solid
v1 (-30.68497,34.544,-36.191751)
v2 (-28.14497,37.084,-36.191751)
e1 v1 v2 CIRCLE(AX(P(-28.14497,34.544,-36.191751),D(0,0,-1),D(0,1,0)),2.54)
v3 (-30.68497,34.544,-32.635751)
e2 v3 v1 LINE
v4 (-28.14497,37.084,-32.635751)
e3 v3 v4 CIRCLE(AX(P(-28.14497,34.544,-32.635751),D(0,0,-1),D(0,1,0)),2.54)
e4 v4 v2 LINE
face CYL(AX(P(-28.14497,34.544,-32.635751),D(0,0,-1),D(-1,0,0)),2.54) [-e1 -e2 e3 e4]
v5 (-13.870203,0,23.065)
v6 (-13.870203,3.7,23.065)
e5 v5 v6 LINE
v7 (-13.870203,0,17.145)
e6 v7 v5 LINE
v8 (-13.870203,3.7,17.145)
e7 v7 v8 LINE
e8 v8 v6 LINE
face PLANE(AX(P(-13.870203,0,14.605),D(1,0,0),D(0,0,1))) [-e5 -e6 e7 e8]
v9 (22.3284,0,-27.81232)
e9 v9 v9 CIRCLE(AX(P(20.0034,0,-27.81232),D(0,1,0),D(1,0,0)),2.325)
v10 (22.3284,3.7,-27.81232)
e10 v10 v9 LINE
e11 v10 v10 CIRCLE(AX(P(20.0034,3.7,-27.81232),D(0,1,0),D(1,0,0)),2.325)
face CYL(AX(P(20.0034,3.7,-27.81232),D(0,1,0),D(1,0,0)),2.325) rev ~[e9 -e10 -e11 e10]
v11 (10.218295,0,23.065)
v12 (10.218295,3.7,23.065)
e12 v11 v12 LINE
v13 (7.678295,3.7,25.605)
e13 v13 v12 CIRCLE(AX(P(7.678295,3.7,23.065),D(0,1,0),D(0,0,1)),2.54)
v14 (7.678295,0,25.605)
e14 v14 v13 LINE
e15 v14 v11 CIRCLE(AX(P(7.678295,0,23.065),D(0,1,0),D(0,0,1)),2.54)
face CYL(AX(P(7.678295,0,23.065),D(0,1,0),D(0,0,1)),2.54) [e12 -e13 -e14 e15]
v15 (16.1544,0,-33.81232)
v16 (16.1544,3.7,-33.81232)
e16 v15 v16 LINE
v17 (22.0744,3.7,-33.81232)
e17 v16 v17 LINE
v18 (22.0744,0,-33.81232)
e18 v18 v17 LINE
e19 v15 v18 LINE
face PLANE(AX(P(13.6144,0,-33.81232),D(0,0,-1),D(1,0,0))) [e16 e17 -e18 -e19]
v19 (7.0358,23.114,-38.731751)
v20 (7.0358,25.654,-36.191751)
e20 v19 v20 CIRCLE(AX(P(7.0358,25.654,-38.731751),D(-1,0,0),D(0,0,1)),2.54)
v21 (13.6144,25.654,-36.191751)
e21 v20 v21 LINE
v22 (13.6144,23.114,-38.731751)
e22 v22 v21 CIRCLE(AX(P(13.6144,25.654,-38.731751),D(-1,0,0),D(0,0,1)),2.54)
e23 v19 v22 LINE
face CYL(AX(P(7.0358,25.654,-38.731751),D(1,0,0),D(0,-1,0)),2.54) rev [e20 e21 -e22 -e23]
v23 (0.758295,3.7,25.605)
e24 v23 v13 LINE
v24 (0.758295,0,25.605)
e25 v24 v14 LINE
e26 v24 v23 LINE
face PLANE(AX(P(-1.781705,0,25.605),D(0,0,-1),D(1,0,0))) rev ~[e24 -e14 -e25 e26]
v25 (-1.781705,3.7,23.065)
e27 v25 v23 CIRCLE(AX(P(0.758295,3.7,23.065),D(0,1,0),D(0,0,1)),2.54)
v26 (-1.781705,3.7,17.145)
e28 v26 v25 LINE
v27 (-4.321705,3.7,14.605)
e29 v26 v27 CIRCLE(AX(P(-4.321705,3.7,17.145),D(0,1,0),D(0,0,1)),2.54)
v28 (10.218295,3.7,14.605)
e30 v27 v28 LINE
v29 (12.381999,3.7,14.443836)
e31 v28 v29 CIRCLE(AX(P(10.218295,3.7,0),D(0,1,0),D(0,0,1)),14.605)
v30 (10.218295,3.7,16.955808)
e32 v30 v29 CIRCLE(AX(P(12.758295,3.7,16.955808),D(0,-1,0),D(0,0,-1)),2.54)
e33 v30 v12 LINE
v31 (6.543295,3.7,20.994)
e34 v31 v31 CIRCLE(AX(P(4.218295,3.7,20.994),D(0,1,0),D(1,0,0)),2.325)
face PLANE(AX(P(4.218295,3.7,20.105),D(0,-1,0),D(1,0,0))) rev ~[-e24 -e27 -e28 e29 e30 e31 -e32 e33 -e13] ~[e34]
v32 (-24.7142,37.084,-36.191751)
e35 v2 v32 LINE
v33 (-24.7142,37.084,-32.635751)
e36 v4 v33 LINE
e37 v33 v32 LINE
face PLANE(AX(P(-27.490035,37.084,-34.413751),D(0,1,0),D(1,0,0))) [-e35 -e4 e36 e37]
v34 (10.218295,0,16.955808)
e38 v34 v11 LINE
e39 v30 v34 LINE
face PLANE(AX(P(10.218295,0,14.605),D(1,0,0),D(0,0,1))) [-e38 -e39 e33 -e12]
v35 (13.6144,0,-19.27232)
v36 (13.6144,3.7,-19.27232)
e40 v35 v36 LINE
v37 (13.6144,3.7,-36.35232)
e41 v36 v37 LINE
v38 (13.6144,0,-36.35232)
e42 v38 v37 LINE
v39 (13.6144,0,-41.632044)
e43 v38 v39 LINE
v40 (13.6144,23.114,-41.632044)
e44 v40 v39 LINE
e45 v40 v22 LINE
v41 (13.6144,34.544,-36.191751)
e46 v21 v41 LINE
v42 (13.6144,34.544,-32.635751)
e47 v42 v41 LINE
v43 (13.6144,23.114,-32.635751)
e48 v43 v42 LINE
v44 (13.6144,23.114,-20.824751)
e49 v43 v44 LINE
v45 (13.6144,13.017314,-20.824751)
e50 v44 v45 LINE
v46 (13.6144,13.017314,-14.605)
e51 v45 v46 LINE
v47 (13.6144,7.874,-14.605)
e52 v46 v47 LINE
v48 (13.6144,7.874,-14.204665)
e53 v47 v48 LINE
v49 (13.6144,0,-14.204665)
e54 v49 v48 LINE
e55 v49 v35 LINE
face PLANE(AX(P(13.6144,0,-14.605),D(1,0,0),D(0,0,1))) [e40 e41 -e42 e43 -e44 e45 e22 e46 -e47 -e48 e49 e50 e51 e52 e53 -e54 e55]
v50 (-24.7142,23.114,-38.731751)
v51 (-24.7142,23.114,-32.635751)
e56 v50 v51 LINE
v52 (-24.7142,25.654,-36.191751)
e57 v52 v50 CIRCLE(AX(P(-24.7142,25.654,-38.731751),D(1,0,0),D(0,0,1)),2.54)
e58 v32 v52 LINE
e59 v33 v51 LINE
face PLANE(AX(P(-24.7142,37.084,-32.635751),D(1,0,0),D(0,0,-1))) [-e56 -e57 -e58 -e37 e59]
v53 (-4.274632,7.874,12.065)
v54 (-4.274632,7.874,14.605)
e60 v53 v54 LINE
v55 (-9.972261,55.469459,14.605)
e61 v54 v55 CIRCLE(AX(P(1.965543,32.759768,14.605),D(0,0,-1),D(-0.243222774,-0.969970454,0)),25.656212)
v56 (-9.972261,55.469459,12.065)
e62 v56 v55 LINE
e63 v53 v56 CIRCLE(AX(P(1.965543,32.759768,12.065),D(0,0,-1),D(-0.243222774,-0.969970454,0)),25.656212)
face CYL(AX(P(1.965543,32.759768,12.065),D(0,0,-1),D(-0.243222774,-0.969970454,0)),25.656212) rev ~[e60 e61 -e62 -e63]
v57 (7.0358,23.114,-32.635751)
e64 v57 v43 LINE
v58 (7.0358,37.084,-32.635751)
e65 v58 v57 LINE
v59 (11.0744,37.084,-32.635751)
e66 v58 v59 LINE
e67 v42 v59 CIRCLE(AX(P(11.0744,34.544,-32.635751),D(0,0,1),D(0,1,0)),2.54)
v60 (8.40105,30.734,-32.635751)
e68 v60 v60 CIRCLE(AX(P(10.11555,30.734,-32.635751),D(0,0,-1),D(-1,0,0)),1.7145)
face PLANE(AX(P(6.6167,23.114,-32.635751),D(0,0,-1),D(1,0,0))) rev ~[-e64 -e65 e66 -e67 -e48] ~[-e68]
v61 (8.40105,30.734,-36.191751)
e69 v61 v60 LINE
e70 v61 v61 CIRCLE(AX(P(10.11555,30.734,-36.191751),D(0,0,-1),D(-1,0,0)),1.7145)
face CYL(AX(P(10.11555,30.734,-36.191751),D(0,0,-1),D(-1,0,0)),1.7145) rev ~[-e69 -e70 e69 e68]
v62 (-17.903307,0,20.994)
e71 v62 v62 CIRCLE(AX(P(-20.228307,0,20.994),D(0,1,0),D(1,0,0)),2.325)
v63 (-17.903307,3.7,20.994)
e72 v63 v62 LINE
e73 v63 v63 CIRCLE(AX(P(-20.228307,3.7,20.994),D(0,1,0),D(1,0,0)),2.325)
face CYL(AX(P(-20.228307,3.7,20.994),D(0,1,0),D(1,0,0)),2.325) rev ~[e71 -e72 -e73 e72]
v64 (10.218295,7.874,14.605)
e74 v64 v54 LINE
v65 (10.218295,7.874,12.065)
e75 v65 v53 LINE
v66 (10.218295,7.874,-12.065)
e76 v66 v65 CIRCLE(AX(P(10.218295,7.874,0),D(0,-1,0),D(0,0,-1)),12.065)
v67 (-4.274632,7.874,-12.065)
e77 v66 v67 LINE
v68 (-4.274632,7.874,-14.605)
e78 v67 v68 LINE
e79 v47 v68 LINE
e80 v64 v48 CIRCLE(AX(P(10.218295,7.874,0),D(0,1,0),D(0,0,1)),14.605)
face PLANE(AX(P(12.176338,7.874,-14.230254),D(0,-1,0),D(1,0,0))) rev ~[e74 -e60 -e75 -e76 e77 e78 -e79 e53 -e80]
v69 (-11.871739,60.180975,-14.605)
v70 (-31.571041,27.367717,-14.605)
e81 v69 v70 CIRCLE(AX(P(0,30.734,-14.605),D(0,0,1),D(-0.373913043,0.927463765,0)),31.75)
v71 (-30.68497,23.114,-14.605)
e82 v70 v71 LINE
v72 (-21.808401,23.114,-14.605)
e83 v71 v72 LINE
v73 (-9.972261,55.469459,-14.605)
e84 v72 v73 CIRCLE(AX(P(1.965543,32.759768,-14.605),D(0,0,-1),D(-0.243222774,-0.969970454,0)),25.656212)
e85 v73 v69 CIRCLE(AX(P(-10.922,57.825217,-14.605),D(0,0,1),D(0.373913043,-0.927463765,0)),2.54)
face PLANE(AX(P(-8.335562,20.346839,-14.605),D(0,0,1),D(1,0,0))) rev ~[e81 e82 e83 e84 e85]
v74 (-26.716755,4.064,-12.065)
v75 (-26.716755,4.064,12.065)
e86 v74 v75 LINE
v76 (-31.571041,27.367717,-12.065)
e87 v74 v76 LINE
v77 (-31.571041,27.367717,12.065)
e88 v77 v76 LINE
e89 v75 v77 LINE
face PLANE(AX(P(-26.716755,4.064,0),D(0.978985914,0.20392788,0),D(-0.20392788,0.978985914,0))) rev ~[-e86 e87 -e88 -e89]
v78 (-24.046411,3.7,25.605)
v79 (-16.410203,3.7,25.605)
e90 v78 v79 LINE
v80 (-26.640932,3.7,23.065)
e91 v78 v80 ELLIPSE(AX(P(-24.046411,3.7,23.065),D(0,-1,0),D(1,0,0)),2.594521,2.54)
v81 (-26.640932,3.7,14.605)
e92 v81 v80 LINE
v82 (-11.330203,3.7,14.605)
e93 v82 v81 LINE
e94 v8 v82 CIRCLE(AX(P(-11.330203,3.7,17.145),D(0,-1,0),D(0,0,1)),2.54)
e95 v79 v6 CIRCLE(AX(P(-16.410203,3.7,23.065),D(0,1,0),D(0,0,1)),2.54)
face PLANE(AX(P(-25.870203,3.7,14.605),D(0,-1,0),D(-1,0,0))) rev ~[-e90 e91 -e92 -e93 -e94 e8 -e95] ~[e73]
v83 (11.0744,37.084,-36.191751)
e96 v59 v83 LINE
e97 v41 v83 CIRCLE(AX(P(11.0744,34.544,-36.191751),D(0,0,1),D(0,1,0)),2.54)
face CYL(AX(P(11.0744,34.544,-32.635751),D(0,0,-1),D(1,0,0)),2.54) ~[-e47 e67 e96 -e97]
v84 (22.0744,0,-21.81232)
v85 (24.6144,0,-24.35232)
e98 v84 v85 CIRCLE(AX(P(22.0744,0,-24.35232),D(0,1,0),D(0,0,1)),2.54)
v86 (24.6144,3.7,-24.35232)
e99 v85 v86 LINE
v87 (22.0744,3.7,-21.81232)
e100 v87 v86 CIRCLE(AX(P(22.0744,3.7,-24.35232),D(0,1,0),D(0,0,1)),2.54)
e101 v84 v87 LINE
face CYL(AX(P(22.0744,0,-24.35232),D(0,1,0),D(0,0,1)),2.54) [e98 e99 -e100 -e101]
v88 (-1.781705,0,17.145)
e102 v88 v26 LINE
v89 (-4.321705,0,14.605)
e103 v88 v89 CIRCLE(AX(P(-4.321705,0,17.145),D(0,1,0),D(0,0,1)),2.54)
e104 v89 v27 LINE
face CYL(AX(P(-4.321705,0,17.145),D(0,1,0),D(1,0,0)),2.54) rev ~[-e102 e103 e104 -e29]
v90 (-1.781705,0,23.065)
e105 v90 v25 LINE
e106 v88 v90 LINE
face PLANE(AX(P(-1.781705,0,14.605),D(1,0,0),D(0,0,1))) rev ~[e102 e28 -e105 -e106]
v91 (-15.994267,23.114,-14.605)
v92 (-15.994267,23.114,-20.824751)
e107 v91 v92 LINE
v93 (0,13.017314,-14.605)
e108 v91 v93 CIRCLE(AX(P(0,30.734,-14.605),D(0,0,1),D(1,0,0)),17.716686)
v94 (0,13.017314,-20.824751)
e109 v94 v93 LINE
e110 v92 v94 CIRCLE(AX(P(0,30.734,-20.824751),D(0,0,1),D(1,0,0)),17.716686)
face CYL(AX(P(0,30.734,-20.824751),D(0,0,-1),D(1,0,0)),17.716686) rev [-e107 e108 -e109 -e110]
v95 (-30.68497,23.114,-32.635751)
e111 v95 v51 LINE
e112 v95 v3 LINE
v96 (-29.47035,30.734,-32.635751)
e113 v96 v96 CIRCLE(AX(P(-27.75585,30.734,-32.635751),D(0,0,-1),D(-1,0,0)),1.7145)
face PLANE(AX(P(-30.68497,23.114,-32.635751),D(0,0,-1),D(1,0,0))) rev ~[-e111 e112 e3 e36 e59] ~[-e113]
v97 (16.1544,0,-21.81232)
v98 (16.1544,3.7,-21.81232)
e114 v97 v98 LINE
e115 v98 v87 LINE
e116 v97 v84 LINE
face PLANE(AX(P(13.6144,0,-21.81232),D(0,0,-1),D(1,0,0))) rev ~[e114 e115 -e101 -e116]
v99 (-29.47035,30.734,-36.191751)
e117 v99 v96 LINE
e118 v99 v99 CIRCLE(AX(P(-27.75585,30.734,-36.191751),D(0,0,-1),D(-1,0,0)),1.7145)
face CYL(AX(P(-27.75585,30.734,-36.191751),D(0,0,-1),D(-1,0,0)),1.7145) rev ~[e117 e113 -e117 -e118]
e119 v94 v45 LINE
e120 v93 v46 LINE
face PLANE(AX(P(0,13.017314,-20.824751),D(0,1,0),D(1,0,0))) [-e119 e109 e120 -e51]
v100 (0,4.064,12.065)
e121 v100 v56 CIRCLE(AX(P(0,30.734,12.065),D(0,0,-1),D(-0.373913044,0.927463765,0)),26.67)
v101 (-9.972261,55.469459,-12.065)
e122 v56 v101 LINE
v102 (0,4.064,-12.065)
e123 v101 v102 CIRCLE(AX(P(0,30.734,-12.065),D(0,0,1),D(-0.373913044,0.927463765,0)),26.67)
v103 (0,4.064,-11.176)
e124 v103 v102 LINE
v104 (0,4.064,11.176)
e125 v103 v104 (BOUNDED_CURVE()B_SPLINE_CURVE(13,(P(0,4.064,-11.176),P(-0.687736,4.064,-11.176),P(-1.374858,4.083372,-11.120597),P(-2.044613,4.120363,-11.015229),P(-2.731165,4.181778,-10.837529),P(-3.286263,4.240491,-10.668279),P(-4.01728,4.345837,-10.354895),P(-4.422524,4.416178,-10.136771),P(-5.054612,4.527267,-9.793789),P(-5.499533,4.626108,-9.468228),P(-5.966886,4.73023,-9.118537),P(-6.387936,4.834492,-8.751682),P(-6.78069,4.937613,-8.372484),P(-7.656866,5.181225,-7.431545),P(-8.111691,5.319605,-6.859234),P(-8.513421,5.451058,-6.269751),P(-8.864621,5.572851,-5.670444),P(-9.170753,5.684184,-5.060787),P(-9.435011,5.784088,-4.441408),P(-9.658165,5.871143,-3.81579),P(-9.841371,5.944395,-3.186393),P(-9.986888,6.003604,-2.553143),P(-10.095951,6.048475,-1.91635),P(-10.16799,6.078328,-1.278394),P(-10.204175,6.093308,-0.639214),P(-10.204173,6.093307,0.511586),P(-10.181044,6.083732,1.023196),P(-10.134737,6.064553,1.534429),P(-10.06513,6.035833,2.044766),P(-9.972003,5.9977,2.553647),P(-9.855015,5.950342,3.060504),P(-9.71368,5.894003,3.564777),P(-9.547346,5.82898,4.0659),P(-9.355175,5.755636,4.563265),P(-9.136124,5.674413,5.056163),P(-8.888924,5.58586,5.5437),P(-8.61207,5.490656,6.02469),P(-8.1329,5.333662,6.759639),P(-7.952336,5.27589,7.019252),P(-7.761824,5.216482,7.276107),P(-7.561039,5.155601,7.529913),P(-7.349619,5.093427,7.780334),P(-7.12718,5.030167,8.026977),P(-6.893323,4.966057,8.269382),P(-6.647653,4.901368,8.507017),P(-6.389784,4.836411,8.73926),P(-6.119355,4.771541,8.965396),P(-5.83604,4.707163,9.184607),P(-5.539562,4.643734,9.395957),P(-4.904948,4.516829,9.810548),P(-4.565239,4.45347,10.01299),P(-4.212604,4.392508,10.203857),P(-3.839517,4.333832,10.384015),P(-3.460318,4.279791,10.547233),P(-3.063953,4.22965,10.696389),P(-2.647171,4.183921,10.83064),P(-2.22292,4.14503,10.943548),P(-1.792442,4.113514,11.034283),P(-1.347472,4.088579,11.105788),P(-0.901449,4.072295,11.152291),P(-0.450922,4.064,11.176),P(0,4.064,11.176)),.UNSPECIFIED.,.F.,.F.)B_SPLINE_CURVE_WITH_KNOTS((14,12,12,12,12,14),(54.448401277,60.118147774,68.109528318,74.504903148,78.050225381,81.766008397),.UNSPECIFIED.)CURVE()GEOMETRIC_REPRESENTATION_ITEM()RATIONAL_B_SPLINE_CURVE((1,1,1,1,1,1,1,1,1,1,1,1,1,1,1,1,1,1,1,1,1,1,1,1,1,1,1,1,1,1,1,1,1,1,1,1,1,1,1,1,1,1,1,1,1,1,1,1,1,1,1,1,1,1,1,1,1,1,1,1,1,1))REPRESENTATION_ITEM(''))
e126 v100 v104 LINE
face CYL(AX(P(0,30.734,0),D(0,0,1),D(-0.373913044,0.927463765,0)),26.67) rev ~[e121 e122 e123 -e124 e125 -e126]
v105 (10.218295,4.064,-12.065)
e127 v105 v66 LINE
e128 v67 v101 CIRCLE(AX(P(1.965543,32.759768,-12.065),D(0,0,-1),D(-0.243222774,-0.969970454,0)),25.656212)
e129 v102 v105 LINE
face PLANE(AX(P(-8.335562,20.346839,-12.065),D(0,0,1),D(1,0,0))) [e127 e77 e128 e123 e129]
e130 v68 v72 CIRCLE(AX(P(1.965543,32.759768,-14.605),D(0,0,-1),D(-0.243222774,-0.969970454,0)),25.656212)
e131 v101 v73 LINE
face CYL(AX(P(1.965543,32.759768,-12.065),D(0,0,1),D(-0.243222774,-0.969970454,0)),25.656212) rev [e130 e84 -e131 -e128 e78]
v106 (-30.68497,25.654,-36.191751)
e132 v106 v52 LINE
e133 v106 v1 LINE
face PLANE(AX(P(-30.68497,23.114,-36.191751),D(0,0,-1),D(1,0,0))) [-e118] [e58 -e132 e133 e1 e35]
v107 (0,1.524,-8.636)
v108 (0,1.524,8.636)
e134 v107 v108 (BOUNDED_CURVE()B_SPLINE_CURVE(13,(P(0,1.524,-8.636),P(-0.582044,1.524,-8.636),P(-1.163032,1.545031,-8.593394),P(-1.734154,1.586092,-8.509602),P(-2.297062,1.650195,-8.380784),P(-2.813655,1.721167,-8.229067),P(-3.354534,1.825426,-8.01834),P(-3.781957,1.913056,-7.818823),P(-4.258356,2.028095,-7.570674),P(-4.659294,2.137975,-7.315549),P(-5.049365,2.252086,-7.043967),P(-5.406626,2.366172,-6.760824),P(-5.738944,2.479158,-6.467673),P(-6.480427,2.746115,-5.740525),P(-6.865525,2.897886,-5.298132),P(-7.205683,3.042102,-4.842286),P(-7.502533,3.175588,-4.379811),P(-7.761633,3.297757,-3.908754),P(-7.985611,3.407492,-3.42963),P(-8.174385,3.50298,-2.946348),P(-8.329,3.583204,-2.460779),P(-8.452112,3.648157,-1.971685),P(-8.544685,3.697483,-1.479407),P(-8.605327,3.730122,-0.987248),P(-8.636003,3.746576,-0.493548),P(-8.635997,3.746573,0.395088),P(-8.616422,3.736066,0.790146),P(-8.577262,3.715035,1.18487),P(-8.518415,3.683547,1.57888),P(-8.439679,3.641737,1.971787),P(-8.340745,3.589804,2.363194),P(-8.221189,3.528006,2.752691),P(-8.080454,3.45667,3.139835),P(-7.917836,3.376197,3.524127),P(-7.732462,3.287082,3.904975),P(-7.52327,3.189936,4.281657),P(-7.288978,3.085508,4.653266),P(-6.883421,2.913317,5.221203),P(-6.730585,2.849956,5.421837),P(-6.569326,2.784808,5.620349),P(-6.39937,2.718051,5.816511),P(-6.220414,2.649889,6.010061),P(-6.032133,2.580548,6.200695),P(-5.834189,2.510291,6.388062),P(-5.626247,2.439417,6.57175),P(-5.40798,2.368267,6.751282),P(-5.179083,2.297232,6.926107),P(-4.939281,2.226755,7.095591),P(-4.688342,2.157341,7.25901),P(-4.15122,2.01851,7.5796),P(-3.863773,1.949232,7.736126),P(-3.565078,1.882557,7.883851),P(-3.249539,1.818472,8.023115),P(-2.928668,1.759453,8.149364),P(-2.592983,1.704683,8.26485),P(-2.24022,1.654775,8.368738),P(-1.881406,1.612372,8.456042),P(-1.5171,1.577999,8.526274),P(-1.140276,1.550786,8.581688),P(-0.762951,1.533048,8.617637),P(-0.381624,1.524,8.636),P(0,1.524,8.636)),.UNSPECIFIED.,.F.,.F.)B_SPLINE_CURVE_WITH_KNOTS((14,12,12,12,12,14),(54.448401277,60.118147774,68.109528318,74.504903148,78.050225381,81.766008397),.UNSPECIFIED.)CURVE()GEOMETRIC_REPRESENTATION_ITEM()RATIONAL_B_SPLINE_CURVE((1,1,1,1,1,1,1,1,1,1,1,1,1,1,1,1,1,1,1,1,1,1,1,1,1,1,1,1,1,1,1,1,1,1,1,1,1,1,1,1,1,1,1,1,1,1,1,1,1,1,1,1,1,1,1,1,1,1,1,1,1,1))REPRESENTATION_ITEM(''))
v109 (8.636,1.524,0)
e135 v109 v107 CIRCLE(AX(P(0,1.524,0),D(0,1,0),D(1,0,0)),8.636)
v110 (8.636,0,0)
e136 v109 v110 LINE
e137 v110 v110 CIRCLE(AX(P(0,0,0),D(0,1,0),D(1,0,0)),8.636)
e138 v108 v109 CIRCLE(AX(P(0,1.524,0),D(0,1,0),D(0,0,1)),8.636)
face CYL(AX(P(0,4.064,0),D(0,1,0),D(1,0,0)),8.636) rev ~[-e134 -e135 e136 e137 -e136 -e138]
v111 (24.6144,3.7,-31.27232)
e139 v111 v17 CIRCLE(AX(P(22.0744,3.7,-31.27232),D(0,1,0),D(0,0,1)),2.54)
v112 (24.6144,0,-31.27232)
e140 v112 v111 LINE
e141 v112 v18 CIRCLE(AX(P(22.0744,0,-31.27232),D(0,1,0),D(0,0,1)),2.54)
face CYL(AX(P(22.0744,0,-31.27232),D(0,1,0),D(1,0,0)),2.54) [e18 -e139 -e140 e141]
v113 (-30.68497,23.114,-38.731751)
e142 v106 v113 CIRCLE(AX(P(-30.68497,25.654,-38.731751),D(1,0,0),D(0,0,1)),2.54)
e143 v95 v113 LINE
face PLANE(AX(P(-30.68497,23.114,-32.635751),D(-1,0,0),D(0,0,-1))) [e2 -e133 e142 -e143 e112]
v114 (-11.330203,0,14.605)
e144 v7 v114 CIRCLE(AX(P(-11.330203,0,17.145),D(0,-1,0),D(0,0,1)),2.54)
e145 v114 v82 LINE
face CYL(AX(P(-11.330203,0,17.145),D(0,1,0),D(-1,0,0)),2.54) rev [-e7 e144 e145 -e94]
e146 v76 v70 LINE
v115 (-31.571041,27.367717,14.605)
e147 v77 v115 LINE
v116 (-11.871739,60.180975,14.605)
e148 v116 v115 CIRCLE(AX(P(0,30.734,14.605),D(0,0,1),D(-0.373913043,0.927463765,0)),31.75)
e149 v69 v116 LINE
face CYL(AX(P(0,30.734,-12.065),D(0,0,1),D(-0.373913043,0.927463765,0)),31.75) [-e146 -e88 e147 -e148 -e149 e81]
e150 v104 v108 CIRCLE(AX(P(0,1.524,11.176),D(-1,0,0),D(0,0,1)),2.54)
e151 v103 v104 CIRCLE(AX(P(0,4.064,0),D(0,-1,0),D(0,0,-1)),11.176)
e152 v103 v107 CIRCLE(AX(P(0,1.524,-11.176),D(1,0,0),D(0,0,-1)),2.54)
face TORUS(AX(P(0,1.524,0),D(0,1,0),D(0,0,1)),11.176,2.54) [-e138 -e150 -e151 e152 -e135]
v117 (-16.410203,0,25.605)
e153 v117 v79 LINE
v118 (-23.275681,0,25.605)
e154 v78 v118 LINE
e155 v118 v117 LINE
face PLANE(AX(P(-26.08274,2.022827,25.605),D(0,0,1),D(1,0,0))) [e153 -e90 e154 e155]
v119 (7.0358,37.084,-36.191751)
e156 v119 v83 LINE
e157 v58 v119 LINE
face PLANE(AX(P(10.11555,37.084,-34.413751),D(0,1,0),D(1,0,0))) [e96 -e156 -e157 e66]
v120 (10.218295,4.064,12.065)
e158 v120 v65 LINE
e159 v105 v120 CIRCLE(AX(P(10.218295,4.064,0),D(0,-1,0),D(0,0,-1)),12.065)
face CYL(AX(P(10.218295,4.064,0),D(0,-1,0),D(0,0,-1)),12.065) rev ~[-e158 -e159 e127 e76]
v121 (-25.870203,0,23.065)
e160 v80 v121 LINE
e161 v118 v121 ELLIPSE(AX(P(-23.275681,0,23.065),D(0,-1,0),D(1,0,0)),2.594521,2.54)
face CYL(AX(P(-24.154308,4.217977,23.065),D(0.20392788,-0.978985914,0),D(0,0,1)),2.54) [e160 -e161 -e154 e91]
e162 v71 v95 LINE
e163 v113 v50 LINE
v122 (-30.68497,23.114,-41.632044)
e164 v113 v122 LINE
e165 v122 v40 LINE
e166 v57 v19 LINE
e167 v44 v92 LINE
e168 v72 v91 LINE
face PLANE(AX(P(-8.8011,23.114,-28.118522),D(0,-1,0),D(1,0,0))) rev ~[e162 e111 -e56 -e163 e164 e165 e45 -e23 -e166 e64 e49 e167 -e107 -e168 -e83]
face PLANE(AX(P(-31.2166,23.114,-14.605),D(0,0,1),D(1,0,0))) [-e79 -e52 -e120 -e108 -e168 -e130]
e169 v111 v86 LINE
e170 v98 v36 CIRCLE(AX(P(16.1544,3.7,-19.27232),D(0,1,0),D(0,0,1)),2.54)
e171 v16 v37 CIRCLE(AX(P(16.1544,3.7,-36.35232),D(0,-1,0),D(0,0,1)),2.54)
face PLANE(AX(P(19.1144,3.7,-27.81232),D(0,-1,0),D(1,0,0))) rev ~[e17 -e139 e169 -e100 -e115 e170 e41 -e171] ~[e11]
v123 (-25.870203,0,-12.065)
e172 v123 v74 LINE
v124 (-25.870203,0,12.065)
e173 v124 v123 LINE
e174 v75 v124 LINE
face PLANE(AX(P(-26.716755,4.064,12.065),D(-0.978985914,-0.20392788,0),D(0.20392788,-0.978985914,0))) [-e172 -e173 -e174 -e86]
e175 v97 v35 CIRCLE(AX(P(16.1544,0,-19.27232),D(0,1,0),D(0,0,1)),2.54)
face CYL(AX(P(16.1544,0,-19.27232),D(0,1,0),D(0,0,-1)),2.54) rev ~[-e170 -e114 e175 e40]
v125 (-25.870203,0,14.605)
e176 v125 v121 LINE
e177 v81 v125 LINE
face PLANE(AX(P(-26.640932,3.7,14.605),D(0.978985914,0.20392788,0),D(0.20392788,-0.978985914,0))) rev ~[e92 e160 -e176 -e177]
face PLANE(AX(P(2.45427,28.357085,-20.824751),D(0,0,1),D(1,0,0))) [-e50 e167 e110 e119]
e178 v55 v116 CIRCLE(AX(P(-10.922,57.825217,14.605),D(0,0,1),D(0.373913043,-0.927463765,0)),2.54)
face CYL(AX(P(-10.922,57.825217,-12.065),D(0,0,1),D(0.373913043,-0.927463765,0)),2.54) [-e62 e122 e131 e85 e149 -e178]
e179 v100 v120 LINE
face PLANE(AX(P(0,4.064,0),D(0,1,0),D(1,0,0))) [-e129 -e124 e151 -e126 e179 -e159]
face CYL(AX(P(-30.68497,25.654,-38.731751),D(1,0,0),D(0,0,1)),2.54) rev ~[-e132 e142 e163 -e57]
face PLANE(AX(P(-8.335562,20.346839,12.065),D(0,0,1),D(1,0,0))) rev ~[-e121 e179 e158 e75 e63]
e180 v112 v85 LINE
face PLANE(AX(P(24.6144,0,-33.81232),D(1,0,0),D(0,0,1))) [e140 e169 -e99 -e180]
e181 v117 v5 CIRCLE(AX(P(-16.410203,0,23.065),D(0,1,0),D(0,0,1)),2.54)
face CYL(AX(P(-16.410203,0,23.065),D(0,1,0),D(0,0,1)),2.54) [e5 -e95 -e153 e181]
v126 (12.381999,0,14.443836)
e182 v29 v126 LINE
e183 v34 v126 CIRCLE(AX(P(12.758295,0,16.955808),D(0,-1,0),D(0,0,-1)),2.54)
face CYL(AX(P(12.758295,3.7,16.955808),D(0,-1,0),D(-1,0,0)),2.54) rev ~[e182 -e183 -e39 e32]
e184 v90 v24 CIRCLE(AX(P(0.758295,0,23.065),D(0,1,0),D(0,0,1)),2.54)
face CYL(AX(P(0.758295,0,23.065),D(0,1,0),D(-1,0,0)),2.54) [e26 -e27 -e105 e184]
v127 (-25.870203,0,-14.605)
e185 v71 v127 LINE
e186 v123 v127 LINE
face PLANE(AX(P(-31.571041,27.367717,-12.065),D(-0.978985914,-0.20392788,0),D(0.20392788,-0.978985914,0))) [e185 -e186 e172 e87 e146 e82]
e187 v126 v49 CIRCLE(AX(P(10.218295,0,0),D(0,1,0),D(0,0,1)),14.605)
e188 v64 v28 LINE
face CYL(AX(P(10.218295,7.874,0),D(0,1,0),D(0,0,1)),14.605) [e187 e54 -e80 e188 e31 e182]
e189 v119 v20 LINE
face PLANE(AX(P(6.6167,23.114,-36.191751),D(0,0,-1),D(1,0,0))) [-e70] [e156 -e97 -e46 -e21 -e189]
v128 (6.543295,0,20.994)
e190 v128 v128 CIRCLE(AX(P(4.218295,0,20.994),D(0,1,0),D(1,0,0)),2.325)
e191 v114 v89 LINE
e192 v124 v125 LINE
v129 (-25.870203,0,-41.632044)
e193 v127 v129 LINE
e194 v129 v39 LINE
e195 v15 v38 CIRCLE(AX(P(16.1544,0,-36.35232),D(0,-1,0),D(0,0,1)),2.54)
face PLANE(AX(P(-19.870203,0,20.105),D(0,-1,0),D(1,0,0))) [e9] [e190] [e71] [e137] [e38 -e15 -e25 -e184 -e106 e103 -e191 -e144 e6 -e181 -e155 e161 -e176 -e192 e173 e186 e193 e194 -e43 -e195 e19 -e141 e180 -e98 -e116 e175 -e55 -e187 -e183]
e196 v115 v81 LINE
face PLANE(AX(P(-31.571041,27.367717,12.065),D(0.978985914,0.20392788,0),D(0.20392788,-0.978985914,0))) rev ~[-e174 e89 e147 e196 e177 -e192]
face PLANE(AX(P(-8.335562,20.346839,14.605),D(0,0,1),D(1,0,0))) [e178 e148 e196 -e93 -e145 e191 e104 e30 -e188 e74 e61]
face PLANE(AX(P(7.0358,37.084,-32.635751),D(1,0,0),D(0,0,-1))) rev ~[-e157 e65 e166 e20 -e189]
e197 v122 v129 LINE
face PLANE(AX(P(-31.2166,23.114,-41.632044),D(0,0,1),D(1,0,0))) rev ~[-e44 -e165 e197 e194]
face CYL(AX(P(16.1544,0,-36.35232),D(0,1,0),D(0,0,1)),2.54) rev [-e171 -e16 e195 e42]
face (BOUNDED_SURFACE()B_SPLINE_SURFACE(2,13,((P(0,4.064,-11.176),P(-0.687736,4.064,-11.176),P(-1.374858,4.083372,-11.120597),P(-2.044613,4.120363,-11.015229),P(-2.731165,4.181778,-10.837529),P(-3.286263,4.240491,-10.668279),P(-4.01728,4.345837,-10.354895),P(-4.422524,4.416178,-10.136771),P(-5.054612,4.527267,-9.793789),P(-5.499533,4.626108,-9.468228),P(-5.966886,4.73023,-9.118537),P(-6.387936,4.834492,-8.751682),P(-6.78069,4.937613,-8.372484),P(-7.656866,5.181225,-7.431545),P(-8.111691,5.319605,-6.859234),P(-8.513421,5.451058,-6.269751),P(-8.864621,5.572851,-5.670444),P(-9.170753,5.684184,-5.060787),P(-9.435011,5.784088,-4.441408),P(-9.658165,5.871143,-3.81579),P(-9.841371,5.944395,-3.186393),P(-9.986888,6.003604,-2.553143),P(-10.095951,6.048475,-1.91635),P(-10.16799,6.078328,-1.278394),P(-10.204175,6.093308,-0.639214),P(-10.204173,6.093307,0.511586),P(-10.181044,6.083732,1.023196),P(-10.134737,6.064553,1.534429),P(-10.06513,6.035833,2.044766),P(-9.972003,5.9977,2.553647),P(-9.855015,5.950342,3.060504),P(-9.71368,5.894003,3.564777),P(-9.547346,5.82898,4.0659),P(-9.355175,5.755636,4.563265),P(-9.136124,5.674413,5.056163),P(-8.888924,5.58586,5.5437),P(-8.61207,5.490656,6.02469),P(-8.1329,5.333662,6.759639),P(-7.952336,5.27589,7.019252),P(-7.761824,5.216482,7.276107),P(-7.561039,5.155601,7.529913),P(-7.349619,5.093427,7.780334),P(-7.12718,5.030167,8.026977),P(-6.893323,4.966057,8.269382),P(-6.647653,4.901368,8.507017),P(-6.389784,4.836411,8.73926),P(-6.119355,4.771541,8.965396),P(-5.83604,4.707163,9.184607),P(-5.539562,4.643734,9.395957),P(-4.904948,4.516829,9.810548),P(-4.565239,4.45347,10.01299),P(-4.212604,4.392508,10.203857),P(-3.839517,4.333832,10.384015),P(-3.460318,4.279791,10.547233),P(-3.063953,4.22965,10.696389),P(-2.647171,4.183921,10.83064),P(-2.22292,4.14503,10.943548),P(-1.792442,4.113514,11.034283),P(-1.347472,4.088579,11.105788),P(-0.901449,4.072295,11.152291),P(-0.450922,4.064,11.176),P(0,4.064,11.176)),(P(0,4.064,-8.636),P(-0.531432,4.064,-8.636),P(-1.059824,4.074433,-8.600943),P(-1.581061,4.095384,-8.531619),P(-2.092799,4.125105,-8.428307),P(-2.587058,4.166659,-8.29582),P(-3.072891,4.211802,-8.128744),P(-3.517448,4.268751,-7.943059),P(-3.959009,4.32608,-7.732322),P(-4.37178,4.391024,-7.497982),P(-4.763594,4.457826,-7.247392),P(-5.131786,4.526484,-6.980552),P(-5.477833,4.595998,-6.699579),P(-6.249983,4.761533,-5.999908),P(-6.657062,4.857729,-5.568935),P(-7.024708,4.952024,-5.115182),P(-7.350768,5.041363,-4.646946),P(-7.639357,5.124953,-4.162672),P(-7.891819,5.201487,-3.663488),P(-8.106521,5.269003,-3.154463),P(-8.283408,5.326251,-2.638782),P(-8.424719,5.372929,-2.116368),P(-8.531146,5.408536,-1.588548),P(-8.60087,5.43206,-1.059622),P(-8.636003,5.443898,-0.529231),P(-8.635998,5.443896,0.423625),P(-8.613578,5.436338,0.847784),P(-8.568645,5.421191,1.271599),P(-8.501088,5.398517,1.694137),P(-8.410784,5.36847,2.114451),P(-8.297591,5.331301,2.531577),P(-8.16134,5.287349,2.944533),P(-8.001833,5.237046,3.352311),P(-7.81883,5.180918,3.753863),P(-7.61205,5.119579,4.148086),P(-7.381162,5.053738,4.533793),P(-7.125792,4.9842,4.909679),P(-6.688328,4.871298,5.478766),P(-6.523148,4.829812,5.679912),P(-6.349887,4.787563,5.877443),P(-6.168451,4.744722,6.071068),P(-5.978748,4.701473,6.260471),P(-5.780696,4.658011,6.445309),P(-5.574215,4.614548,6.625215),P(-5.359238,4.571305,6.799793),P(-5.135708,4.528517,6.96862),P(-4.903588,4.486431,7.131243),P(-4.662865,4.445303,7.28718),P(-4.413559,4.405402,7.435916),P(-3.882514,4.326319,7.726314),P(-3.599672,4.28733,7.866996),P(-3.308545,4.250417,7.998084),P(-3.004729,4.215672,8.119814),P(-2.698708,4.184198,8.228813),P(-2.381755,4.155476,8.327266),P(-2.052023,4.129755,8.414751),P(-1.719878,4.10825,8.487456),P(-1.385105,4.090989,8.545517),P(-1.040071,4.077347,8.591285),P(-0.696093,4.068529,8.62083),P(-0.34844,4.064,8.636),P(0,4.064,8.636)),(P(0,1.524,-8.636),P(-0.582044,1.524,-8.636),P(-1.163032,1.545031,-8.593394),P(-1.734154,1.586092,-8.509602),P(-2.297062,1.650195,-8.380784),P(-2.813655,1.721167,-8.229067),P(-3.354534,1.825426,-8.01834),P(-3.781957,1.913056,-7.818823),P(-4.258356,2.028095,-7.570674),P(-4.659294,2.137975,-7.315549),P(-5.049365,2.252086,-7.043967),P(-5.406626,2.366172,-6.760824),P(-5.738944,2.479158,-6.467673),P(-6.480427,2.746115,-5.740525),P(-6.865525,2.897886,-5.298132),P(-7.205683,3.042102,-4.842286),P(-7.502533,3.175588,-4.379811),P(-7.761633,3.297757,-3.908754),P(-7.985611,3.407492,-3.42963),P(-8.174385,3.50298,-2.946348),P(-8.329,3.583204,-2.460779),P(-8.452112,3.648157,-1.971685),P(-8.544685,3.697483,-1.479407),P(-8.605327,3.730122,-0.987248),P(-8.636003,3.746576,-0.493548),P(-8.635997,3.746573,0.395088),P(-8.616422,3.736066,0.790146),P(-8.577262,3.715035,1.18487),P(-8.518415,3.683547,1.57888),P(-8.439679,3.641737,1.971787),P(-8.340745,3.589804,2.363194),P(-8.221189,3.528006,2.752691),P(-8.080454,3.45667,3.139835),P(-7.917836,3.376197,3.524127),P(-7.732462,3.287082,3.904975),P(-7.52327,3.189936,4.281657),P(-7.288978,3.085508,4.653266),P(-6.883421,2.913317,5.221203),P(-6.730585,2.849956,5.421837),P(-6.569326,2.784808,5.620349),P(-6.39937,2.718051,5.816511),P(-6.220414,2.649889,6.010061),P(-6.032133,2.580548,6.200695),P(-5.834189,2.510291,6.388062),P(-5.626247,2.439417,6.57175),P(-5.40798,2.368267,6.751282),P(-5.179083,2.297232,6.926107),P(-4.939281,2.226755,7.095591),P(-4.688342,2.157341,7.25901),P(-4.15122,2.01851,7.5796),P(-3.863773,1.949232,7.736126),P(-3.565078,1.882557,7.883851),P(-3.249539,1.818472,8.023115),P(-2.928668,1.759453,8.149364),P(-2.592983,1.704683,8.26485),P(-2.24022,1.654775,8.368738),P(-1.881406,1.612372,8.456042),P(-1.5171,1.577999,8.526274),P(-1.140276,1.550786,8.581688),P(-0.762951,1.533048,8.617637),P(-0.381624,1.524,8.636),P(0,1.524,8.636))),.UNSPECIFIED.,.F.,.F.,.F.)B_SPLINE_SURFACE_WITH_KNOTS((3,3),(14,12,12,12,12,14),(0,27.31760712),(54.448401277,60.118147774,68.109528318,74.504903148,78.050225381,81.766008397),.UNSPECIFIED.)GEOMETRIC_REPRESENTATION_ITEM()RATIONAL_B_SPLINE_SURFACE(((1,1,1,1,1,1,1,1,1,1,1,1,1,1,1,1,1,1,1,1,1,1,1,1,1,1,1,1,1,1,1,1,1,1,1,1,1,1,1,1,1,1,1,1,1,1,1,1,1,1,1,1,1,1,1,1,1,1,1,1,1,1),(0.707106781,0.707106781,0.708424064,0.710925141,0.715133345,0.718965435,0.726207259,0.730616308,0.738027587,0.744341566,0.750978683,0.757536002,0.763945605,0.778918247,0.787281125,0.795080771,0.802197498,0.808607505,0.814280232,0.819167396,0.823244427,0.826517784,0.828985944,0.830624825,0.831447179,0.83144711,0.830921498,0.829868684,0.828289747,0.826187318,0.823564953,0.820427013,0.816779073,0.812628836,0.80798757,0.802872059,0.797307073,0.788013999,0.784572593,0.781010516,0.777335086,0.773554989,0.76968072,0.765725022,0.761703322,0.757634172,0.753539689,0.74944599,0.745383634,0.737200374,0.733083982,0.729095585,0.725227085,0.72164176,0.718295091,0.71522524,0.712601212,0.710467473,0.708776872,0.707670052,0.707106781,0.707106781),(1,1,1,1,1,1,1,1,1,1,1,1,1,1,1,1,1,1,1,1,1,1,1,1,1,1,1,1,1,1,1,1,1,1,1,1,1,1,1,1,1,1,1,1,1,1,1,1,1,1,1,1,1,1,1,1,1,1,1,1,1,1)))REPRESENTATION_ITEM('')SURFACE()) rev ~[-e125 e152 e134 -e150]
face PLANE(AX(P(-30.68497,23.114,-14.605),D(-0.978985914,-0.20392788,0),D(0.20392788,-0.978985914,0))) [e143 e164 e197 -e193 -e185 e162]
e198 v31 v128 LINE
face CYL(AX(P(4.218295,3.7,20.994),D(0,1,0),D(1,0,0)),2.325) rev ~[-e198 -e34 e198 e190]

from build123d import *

# Parameters (mm, degrees)
SKETCH1_W                       = 63.5
SKETCH1_H                       = 24.13
BOSS_EXTRUDE1_DEPTH             = 4.064
BOSS_EXTRUDE2_REACH             = 14.065
BOSS_EXTRUDE2_DIRECTION_2_REACH = 14.065
SKETCH4_R                       = 8.636
CUT_EXTRUDE1_DEPTH              = 4.064
CUT_EXTRUDE1_DEPTH_BACK         = 5.064
FILLET1_R                       = 2.54
CUT_EXTRUDE2_DEPTH              = 25.1300001
BOSS_EXTRUDE3_DEPTH             = 2.54
BOSS_EXTRUDE4_DEPTH             = 2.54
BOSS_EXTRUDE5_DEPTH             = 3.81
CUT_EXTRUDE3_DEPTH              = 8.8740001
BOSS_EXTRUDE6_START             = -23.114
SKETCH12_W                      = 44.831
SKETCH12_H                      = 27.027043781
BOSS_EXTRUDE6_DEPTH             = 23.114
BOSS_EXTRUDE7_DEPTH             = 7.874
CUT_EXTRUDE4_START              = -6.219751
CUT_EXTRUDE4_DEPTH              = 6.219751
CUT_EXTRUDE5_DEPTH              = 27.027044
SKETCH17_W                      = 6.9977
SKETCH17_H                      = 3.556
BOSS_EXTRUDE8_DEPTH             = 13.97
SKETCH18_W                      = 6.389869694
SKETCH18_H                      = 3.556
BOSS_EXTRUDE9_DEPTH             = 13.97
SKETCH19_W                      = 31.75
SKETCH19_H                      = 7.112
CUT_EXTRUDE6_DEPTH              = 13.97
CUT_EXTRUDE7_REACH              = 52.797
SKETCH20_R                      = 1.7145
FILLET2_R                       = 2.54
FILLET3_R                       = 2.54
FILLET4_R                       = 2.54
SKETCH21_W                      = 12
SKETCH21_H                      = 11
SKETCH21_W_2                    = 11
SKETCH21_H_2                    = 12
BOSS_EXTRUDE10_DEPTH            = 3.7
BOSS_EXTRUDE11_DEPTH            = 11
FILLET5_R                       = 2.54
SKETCH23_R                      = 2.325
CUT_EXTRUDE8_DEPTH              = 4.7000001


with BuildPart() as part:
    # Sketch1 → Boss-Extrude1 (new body)
    with BuildSketch(Plane(origin=(0, 0, 0), x_dir=(1, 0, 0), z_dir=(0, 1, 0))):
        Rectangle(SKETCH1_W, SKETCH1_H)
    extrude(amount=BOSS_EXTRUDE1_DEPTH)

    # Boss-Extrude2: up to this face of the body (flat: up to its plane)
    boss_extrude2_end = Plane(part.part.faces().sort_by_distance((0, 2.032, 12.065))[0])
    # Sketch2 → Boss-Extrude2 (add, up to the picked face)
    with BuildSketch(Plane.XY, mode=Mode.PRIVATE) as boss_extrude2_sk1:
        with BuildLine():
            Line((0, 4.064), (-26.716755185, 4.064))
            Line((-26.716755185, 4.064), (-31.571041118, 27.367716778))
            ThreePointArc((-31.571041118, 27.367716778), (-27.221246487, 47.076161415), (-11.87173913, 60.180974548))
            ThreePointArc((-11.87173913, 60.180974548), (-8.566242036, 58.774955714), (-9.97226087, 55.46945862))
            ThreePointArc((-9.97226087, 55.46945862), (-26.181898149, 25.654914521), (0, 4.064))
        make_face()
    boss_extrude2_tool1 = split(extrude(boss_extrude2_sk1.sketch, amount=BOSS_EXTRUDE2_REACH, mode=Mode.PRIVATE), bisect_by=boss_extrude2_end, keep=Keep.BOTH, mode=Mode.PRIVATE)
    add(boss_extrude2_tool1.solids().sort_by_distance((-9.165723, 58.533271, 0))[0])

    # Boss-Extrude2 direction 2: up to this face of the body (flat: up to its plane)
    boss_extrude2_direction_2_end = Plane(part.part.faces().sort_by_distance((0, 2.032, -12.065))[0])
    # Sketch2 → Boss-Extrude2 direction 2 (add, up to the picked face)
    with BuildSketch(Plane.XY, mode=Mode.PRIVATE) as boss_extrude2_direction_2_sk1:
        with BuildLine():
            Line((0, 4.064), (-26.716755185, 4.064))
            Line((-26.716755185, 4.064), (-31.571041118, 27.367716778))
            ThreePointArc((-31.571041118, 27.367716778), (-27.221246487, 47.076161415), (-11.87173913, 60.180974548))
            ThreePointArc((-11.87173913, 60.180974548), (-8.566242036, 58.774955714), (-9.97226087, 55.46945862))
            ThreePointArc((-9.97226087, 55.46945862), (-26.181898149, 25.654914521), (0, 4.064))
        make_face()
    boss_extrude2_direction_2_tool1 = split(extrude(boss_extrude2_direction_2_sk1.sketch, amount=-BOSS_EXTRUDE2_DIRECTION_2_REACH, mode=Mode.PRIVATE), bisect_by=boss_extrude2_direction_2_end, keep=Keep.BOTH, mode=Mode.PRIVATE)
    add(boss_extrude2_direction_2_tool1.solids().sort_by_distance((-9.165723, 58.533271, 0))[0])

    # Sketch4 → Cut-Extrude1 (cut, two sides)
    with BuildSketch(Plane(origin=(0, 4.064, 0), x_dir=(1, 0, 0), z_dir=(0, 1, 0))) as cut_extrude1_sk:
        Circle(SKETCH4_R)
    extrude(amount=CUT_EXTRUDE1_DEPTH, mode=Mode.SUBTRACT)
    extrude(cut_extrude1_sk.sketch, amount=-CUT_EXTRUDE1_DEPTH_BACK, mode=Mode.SUBTRACT)

    # Fillet1
    fillet1_edges = [part.edges().sort_by_distance(p)[0] for p in [
        (-8.636, 5.50091846, 0),
        (6.106574162, 4.064, 6.106574162),
    ]]
    fillet(fillet1_edges, radius=FILLET1_R)

    # Sketch6 → Cut-Extrude2 (cut, through all)
    with BuildSketch(Plane.XY.offset(12.065)):
        Polygon((-31.75, 4.064), (-26.716755185, 4.064), (-25.870202757, 0), (-31.75, 0), align=None)
    extrude(amount=-CUT_EXTRUDE2_DEPTH, mode=Mode.SUBTRACT)

    # Sketch8 → Boss-Extrude3 (add)
    with BuildSketch(Plane.XY.offset(12.065)):
        with BuildLine():
            Line((31.75, 0), (31.75, 7.874))
            Line((31.75, 7.874), (-4.274632474, 7.874))
            ThreePointArc((-4.274632474, 7.874), (-23.508790492, 29.710248048), (-9.97226087, 55.46945862))
            ThreePointArc((-9.97226087, 55.46945862), (-8.566242036, 58.774955714), (-11.87173913, 60.180974548))
            ThreePointArc((-11.87173913, 60.180974548), (-27.221246487, 47.076161415), (-31.571041118, 27.367716778))
            Line((-31.571041118, 27.367716778), (-25.870202757, 0))
            Line((-25.870202757, 0), (31.75, 0))
        make_face()
    extrude(amount=BOSS_EXTRUDE3_DEPTH)

    # Sketch9 → Boss-Extrude4 (add)
    with BuildSketch(Plane(origin=(0, 0, -12.065), x_dir=(-1, 0, 0), z_dir=(0, 0, -1))):
        with BuildLine():
            Line((-31.75, 0), (-31.75, 7.874))
            Line((-31.75, 7.874), (4.274632474, 7.874))
            ThreePointArc((4.274632474, 7.874), (23.508790492, 29.710248048), (9.97226087, 55.46945862))
            ThreePointArc((9.97226087, 55.46945862), (8.566242036, 58.774955714), (11.87173913, 60.180974548))
            ThreePointArc((11.87173913, 60.180974548), (27.221246487, 47.076161415), (31.571041118, 27.367716778))
            Line((31.571041118, 27.367716778), (25.870202757, 0))
            Line((25.870202757, 0), (-31.75, 0))
        make_face()
    extrude(amount=BOSS_EXTRUDE4_DEPTH)

    # Sketch10 → Boss-Extrude5 (add)
    with BuildSketch(Plane(origin=(0, 4.064, 0), x_dir=(1, 0, 0), z_dir=(0, 1, 0))):
        with BuildLine():
            Line((10.218295125, 14.605), (10.218295125, 12.065))
            ThreePointArc((10.218295125, 12.065), (22.283295125, 0), (10.218295125, -12.065))
            Line((10.218295125, -12.065), (10.218295125, -14.605))
            ThreePointArc((10.218295125, -14.605), (24.823295125, 0), (10.218295125, 14.605))
        make_face()
    extrude(amount=BOSS_EXTRUDE5_DEPTH)

    # Sketch11 → Cut-Extrude3 (cut, through all)
    with BuildSketch(Plane(origin=(0, 7.874, 0), x_dir=(1, 0, 0), z_dir=(0, 1, 0))):
        with BuildLine():
            Line((10.218295125, 14.605), (31.75, 14.605))
            Line((31.75, 14.605), (31.75, -14.605))
            Line((31.75, -14.605), (10.218295125, -14.605))
            ThreePointArc((10.218295125, -14.605), (24.823295125, 0), (10.218295125, 14.605))
        make_face()
    extrude(amount=-CUT_EXTRUDE3_DEPTH, mode=Mode.SUBTRACT)

    # Sketch12 → Boss-Extrude6 (add)
    with BuildSketch(Plane.XZ.offset(BOSS_EXTRUDE6_START)):
        with Locations((-8.8011, -28.11852189)):
            Rectangle(SKETCH12_W, SKETCH12_H)
    extrude(amount=BOSS_EXTRUDE6_DEPTH)

    # Sketch13 → Boss-Extrude7 (add)
    with BuildSketch(Plane.XZ):
        Polygon((10.218295125, -14.605), (13.6144, -14.605), (13.6144, -13.335525526), align=None)
    extrude(amount=-BOSS_EXTRUDE7_DEPTH)

    # Sketch14 → Cut-Extrude4 (cut)
    with BuildSketch(Plane.XY.offset(-14.605).offset(CUT_EXTRUDE4_START)):
        with BuildLine():
            Line((0, 13.017313502), (18.620278687, 13.017313502))
            Line((18.620278687, 13.017313502), (17.716686498, 30.734))
            ThreePointArc((17.716686498, 30.734), (-12.527589163, 43.261589163), (0, 13.017313502))
        make_face()
    extrude(amount=CUT_EXTRUDE4_DEPTH, mode=Mode.SUBTRACT)

    # Sketch16 → Cut-Extrude5 (cut)
    with BuildSketch(Plane.XY.offset(-14.605)):
        Polygon((-31.2166, 23.114), (-30.684969694, 23.114), (-25.870202757, 0), (-31.2166, 0), align=None)
    extrude(amount=-CUT_EXTRUDE5_DEPTH, mode=Mode.SUBTRACT)

    # Sketch17 → Boss-Extrude8 (add)
    with BuildSketch(Plane(origin=(0, 23.114, 0), x_dir=(1, 0, 0), z_dir=(0, 1, 0))):
        with Locations((10.11555, 34.413750632)):
            Rectangle(SKETCH17_W, SKETCH17_H)
    extrude(amount=BOSS_EXTRUDE8_DEPTH)

    # Sketch18 → Boss-Extrude9 (add)
    with BuildSketch(Plane(origin=(0, 23.114, 0), x_dir=(1, 0, 0), z_dir=(0, 1, 0))):
        with Locations((-27.490034847, 34.413750632)):
            Rectangle(SKETCH18_W, SKETCH18_H)
    extrude(amount=BOSS_EXTRUDE9_DEPTH)

    # Sketch19 → Cut-Extrude6 (cut)
    with BuildSketch(Plane(origin=(0, 37.084, 0), x_dir=(1, 0, 0), z_dir=(0, 1, 0))):
        with Locations((-8.8392, 36.191750632)):
            Rectangle(SKETCH19_W, SKETCH19_H)
    extrude(amount=-CUT_EXTRUDE6_DEPTH, mode=Mode.SUBTRACT)

    # Sketch20 → Cut-Extrude7 (cut, up to next)
    with BuildSketch(Plane(origin=(0, 0, -36.191750632), x_dir=(-1, 0, 0), z_dir=(0, 0, -1)), mode=Mode.PRIVATE) as cut_extrude7_sk1:
        with Locations((27.75585, 30.734)):
            Circle(SKETCH20_R)
    cut_extrude7_tool1 = extrude(cut_extrude7_sk1.sketch, amount=-CUT_EXTRUDE7_REACH, mode=Mode.PRIVATE) & part.part
    add(cut_extrude7_tool1.solids().sort_by_distance((-27.75585, 30.734, -36.191751))[0], mode=Mode.SUBTRACT)
    # Sketch20 → Cut-Extrude7 (cut, up to next)
    with BuildSketch(Plane(origin=(0, 0, -36.191750632), x_dir=(-1, 0, 0), z_dir=(0, 0, -1)), mode=Mode.PRIVATE) as cut_extrude7_sk2:
        with Locations((-10.11555, 30.734)):
            Circle(SKETCH20_R)
    cut_extrude7_tool2 = extrude(cut_extrude7_sk2.sketch, amount=-CUT_EXTRUDE7_REACH, mode=Mode.PRIVATE) & part.part
    add(cut_extrude7_tool2.solids().sort_by_distance((10.11555, 30.734, -36.191751))[0], mode=Mode.SUBTRACT)

    # Fillet2
    fillet2_edges = [part.edges().sort_by_distance(p)[0] for p in [
        (10.3251, 23.114, -36.191750632),
    ]]
    fillet(fillet2_edges, radius=FILLET2_R)

    # Fillet3
    fillet3_edges = [part.edges().sort_by_distance(p)[0] for p in [
        (-27.699584847, 23.114, -36.191750632),
    ]]
    fillet(fillet3_edges, radius=FILLET3_R)

    # Fillet4
    fillet4_edges = [part.edges().sort_by_distance(p)[0] for p in [
        (13.6144, 37.084, -34.413750632),
        (-30.684969694, 37.084, -34.413750632),
    ]]
    fillet(fillet4_edges, radius=FILLET4_R)

    # Sketch21 → Boss-Extrude10 (add)
    with BuildSketch(Plane.XZ):
        with Locations((-19.870202757, 20.105)):
            Rectangle(SKETCH21_W, SKETCH21_H)
        with Locations((4.218295125, 20.105)):
            Rectangle(SKETCH21_W, SKETCH21_H)
        with Locations((19.1144, -27.812319928)):
            Rectangle(SKETCH21_W_2, SKETCH21_H_2)
    extrude(amount=-BOSS_EXTRUDE10_DEPTH)

    # Sketch22 → Boss-Extrude11 (add)
    with BuildSketch(Plane.XY.offset(14.605)):
        Polygon((-25.870202757, 3.7), (-26.640932084, 3.7), (-25.870202757, 0), align=None)
    extrude(amount=BOSS_EXTRUDE11_DEPTH)

    # Fillet5
    fillet5_edges = [part.edges().sort_by_distance(p)[0] for p in [
        (10.218295125, 1.85, 14.605),
        (-13.870202757, 1.85, 25.605),
        (-13.870202757, 1.85, 14.605),
        (10.218295125, 1.85, 25.605),
        (-1.781704875, 1.85, 14.605),
        (-1.781704875, 1.85, 25.605),
        (13.6144, 1.85, -33.812319928),
        (13.6144, 1.85, -21.812319928),
        (24.6144, 1.85, -21.812319928),
        (24.6144, 1.85, -33.812319928),
        (-26.25556742, 1.85, 25.605),
    ]]
    fillet(fillet5_edges, radius=FILLET5_R)

    # Sketch23 → Cut-Extrude8 (cut, through all)
    with BuildSketch(Plane(origin=(0, 3.7, 0), x_dir=(1, 0, 0), z_dir=(0, 1, 0))):
        with Locations((20.0034, 27.812319928)):
            Circle(SKETCH23_R)
        with Locations((-20.228306672, -20.994)):
            Circle(SKETCH23_R)
        with Locations((4.218295125, -20.994)):
            Circle(SKETCH23_R)
    extrude(amount=-CUT_EXTRUDE8_DEPTH, mode=Mode.SUBTRACT)


solid = part.part
